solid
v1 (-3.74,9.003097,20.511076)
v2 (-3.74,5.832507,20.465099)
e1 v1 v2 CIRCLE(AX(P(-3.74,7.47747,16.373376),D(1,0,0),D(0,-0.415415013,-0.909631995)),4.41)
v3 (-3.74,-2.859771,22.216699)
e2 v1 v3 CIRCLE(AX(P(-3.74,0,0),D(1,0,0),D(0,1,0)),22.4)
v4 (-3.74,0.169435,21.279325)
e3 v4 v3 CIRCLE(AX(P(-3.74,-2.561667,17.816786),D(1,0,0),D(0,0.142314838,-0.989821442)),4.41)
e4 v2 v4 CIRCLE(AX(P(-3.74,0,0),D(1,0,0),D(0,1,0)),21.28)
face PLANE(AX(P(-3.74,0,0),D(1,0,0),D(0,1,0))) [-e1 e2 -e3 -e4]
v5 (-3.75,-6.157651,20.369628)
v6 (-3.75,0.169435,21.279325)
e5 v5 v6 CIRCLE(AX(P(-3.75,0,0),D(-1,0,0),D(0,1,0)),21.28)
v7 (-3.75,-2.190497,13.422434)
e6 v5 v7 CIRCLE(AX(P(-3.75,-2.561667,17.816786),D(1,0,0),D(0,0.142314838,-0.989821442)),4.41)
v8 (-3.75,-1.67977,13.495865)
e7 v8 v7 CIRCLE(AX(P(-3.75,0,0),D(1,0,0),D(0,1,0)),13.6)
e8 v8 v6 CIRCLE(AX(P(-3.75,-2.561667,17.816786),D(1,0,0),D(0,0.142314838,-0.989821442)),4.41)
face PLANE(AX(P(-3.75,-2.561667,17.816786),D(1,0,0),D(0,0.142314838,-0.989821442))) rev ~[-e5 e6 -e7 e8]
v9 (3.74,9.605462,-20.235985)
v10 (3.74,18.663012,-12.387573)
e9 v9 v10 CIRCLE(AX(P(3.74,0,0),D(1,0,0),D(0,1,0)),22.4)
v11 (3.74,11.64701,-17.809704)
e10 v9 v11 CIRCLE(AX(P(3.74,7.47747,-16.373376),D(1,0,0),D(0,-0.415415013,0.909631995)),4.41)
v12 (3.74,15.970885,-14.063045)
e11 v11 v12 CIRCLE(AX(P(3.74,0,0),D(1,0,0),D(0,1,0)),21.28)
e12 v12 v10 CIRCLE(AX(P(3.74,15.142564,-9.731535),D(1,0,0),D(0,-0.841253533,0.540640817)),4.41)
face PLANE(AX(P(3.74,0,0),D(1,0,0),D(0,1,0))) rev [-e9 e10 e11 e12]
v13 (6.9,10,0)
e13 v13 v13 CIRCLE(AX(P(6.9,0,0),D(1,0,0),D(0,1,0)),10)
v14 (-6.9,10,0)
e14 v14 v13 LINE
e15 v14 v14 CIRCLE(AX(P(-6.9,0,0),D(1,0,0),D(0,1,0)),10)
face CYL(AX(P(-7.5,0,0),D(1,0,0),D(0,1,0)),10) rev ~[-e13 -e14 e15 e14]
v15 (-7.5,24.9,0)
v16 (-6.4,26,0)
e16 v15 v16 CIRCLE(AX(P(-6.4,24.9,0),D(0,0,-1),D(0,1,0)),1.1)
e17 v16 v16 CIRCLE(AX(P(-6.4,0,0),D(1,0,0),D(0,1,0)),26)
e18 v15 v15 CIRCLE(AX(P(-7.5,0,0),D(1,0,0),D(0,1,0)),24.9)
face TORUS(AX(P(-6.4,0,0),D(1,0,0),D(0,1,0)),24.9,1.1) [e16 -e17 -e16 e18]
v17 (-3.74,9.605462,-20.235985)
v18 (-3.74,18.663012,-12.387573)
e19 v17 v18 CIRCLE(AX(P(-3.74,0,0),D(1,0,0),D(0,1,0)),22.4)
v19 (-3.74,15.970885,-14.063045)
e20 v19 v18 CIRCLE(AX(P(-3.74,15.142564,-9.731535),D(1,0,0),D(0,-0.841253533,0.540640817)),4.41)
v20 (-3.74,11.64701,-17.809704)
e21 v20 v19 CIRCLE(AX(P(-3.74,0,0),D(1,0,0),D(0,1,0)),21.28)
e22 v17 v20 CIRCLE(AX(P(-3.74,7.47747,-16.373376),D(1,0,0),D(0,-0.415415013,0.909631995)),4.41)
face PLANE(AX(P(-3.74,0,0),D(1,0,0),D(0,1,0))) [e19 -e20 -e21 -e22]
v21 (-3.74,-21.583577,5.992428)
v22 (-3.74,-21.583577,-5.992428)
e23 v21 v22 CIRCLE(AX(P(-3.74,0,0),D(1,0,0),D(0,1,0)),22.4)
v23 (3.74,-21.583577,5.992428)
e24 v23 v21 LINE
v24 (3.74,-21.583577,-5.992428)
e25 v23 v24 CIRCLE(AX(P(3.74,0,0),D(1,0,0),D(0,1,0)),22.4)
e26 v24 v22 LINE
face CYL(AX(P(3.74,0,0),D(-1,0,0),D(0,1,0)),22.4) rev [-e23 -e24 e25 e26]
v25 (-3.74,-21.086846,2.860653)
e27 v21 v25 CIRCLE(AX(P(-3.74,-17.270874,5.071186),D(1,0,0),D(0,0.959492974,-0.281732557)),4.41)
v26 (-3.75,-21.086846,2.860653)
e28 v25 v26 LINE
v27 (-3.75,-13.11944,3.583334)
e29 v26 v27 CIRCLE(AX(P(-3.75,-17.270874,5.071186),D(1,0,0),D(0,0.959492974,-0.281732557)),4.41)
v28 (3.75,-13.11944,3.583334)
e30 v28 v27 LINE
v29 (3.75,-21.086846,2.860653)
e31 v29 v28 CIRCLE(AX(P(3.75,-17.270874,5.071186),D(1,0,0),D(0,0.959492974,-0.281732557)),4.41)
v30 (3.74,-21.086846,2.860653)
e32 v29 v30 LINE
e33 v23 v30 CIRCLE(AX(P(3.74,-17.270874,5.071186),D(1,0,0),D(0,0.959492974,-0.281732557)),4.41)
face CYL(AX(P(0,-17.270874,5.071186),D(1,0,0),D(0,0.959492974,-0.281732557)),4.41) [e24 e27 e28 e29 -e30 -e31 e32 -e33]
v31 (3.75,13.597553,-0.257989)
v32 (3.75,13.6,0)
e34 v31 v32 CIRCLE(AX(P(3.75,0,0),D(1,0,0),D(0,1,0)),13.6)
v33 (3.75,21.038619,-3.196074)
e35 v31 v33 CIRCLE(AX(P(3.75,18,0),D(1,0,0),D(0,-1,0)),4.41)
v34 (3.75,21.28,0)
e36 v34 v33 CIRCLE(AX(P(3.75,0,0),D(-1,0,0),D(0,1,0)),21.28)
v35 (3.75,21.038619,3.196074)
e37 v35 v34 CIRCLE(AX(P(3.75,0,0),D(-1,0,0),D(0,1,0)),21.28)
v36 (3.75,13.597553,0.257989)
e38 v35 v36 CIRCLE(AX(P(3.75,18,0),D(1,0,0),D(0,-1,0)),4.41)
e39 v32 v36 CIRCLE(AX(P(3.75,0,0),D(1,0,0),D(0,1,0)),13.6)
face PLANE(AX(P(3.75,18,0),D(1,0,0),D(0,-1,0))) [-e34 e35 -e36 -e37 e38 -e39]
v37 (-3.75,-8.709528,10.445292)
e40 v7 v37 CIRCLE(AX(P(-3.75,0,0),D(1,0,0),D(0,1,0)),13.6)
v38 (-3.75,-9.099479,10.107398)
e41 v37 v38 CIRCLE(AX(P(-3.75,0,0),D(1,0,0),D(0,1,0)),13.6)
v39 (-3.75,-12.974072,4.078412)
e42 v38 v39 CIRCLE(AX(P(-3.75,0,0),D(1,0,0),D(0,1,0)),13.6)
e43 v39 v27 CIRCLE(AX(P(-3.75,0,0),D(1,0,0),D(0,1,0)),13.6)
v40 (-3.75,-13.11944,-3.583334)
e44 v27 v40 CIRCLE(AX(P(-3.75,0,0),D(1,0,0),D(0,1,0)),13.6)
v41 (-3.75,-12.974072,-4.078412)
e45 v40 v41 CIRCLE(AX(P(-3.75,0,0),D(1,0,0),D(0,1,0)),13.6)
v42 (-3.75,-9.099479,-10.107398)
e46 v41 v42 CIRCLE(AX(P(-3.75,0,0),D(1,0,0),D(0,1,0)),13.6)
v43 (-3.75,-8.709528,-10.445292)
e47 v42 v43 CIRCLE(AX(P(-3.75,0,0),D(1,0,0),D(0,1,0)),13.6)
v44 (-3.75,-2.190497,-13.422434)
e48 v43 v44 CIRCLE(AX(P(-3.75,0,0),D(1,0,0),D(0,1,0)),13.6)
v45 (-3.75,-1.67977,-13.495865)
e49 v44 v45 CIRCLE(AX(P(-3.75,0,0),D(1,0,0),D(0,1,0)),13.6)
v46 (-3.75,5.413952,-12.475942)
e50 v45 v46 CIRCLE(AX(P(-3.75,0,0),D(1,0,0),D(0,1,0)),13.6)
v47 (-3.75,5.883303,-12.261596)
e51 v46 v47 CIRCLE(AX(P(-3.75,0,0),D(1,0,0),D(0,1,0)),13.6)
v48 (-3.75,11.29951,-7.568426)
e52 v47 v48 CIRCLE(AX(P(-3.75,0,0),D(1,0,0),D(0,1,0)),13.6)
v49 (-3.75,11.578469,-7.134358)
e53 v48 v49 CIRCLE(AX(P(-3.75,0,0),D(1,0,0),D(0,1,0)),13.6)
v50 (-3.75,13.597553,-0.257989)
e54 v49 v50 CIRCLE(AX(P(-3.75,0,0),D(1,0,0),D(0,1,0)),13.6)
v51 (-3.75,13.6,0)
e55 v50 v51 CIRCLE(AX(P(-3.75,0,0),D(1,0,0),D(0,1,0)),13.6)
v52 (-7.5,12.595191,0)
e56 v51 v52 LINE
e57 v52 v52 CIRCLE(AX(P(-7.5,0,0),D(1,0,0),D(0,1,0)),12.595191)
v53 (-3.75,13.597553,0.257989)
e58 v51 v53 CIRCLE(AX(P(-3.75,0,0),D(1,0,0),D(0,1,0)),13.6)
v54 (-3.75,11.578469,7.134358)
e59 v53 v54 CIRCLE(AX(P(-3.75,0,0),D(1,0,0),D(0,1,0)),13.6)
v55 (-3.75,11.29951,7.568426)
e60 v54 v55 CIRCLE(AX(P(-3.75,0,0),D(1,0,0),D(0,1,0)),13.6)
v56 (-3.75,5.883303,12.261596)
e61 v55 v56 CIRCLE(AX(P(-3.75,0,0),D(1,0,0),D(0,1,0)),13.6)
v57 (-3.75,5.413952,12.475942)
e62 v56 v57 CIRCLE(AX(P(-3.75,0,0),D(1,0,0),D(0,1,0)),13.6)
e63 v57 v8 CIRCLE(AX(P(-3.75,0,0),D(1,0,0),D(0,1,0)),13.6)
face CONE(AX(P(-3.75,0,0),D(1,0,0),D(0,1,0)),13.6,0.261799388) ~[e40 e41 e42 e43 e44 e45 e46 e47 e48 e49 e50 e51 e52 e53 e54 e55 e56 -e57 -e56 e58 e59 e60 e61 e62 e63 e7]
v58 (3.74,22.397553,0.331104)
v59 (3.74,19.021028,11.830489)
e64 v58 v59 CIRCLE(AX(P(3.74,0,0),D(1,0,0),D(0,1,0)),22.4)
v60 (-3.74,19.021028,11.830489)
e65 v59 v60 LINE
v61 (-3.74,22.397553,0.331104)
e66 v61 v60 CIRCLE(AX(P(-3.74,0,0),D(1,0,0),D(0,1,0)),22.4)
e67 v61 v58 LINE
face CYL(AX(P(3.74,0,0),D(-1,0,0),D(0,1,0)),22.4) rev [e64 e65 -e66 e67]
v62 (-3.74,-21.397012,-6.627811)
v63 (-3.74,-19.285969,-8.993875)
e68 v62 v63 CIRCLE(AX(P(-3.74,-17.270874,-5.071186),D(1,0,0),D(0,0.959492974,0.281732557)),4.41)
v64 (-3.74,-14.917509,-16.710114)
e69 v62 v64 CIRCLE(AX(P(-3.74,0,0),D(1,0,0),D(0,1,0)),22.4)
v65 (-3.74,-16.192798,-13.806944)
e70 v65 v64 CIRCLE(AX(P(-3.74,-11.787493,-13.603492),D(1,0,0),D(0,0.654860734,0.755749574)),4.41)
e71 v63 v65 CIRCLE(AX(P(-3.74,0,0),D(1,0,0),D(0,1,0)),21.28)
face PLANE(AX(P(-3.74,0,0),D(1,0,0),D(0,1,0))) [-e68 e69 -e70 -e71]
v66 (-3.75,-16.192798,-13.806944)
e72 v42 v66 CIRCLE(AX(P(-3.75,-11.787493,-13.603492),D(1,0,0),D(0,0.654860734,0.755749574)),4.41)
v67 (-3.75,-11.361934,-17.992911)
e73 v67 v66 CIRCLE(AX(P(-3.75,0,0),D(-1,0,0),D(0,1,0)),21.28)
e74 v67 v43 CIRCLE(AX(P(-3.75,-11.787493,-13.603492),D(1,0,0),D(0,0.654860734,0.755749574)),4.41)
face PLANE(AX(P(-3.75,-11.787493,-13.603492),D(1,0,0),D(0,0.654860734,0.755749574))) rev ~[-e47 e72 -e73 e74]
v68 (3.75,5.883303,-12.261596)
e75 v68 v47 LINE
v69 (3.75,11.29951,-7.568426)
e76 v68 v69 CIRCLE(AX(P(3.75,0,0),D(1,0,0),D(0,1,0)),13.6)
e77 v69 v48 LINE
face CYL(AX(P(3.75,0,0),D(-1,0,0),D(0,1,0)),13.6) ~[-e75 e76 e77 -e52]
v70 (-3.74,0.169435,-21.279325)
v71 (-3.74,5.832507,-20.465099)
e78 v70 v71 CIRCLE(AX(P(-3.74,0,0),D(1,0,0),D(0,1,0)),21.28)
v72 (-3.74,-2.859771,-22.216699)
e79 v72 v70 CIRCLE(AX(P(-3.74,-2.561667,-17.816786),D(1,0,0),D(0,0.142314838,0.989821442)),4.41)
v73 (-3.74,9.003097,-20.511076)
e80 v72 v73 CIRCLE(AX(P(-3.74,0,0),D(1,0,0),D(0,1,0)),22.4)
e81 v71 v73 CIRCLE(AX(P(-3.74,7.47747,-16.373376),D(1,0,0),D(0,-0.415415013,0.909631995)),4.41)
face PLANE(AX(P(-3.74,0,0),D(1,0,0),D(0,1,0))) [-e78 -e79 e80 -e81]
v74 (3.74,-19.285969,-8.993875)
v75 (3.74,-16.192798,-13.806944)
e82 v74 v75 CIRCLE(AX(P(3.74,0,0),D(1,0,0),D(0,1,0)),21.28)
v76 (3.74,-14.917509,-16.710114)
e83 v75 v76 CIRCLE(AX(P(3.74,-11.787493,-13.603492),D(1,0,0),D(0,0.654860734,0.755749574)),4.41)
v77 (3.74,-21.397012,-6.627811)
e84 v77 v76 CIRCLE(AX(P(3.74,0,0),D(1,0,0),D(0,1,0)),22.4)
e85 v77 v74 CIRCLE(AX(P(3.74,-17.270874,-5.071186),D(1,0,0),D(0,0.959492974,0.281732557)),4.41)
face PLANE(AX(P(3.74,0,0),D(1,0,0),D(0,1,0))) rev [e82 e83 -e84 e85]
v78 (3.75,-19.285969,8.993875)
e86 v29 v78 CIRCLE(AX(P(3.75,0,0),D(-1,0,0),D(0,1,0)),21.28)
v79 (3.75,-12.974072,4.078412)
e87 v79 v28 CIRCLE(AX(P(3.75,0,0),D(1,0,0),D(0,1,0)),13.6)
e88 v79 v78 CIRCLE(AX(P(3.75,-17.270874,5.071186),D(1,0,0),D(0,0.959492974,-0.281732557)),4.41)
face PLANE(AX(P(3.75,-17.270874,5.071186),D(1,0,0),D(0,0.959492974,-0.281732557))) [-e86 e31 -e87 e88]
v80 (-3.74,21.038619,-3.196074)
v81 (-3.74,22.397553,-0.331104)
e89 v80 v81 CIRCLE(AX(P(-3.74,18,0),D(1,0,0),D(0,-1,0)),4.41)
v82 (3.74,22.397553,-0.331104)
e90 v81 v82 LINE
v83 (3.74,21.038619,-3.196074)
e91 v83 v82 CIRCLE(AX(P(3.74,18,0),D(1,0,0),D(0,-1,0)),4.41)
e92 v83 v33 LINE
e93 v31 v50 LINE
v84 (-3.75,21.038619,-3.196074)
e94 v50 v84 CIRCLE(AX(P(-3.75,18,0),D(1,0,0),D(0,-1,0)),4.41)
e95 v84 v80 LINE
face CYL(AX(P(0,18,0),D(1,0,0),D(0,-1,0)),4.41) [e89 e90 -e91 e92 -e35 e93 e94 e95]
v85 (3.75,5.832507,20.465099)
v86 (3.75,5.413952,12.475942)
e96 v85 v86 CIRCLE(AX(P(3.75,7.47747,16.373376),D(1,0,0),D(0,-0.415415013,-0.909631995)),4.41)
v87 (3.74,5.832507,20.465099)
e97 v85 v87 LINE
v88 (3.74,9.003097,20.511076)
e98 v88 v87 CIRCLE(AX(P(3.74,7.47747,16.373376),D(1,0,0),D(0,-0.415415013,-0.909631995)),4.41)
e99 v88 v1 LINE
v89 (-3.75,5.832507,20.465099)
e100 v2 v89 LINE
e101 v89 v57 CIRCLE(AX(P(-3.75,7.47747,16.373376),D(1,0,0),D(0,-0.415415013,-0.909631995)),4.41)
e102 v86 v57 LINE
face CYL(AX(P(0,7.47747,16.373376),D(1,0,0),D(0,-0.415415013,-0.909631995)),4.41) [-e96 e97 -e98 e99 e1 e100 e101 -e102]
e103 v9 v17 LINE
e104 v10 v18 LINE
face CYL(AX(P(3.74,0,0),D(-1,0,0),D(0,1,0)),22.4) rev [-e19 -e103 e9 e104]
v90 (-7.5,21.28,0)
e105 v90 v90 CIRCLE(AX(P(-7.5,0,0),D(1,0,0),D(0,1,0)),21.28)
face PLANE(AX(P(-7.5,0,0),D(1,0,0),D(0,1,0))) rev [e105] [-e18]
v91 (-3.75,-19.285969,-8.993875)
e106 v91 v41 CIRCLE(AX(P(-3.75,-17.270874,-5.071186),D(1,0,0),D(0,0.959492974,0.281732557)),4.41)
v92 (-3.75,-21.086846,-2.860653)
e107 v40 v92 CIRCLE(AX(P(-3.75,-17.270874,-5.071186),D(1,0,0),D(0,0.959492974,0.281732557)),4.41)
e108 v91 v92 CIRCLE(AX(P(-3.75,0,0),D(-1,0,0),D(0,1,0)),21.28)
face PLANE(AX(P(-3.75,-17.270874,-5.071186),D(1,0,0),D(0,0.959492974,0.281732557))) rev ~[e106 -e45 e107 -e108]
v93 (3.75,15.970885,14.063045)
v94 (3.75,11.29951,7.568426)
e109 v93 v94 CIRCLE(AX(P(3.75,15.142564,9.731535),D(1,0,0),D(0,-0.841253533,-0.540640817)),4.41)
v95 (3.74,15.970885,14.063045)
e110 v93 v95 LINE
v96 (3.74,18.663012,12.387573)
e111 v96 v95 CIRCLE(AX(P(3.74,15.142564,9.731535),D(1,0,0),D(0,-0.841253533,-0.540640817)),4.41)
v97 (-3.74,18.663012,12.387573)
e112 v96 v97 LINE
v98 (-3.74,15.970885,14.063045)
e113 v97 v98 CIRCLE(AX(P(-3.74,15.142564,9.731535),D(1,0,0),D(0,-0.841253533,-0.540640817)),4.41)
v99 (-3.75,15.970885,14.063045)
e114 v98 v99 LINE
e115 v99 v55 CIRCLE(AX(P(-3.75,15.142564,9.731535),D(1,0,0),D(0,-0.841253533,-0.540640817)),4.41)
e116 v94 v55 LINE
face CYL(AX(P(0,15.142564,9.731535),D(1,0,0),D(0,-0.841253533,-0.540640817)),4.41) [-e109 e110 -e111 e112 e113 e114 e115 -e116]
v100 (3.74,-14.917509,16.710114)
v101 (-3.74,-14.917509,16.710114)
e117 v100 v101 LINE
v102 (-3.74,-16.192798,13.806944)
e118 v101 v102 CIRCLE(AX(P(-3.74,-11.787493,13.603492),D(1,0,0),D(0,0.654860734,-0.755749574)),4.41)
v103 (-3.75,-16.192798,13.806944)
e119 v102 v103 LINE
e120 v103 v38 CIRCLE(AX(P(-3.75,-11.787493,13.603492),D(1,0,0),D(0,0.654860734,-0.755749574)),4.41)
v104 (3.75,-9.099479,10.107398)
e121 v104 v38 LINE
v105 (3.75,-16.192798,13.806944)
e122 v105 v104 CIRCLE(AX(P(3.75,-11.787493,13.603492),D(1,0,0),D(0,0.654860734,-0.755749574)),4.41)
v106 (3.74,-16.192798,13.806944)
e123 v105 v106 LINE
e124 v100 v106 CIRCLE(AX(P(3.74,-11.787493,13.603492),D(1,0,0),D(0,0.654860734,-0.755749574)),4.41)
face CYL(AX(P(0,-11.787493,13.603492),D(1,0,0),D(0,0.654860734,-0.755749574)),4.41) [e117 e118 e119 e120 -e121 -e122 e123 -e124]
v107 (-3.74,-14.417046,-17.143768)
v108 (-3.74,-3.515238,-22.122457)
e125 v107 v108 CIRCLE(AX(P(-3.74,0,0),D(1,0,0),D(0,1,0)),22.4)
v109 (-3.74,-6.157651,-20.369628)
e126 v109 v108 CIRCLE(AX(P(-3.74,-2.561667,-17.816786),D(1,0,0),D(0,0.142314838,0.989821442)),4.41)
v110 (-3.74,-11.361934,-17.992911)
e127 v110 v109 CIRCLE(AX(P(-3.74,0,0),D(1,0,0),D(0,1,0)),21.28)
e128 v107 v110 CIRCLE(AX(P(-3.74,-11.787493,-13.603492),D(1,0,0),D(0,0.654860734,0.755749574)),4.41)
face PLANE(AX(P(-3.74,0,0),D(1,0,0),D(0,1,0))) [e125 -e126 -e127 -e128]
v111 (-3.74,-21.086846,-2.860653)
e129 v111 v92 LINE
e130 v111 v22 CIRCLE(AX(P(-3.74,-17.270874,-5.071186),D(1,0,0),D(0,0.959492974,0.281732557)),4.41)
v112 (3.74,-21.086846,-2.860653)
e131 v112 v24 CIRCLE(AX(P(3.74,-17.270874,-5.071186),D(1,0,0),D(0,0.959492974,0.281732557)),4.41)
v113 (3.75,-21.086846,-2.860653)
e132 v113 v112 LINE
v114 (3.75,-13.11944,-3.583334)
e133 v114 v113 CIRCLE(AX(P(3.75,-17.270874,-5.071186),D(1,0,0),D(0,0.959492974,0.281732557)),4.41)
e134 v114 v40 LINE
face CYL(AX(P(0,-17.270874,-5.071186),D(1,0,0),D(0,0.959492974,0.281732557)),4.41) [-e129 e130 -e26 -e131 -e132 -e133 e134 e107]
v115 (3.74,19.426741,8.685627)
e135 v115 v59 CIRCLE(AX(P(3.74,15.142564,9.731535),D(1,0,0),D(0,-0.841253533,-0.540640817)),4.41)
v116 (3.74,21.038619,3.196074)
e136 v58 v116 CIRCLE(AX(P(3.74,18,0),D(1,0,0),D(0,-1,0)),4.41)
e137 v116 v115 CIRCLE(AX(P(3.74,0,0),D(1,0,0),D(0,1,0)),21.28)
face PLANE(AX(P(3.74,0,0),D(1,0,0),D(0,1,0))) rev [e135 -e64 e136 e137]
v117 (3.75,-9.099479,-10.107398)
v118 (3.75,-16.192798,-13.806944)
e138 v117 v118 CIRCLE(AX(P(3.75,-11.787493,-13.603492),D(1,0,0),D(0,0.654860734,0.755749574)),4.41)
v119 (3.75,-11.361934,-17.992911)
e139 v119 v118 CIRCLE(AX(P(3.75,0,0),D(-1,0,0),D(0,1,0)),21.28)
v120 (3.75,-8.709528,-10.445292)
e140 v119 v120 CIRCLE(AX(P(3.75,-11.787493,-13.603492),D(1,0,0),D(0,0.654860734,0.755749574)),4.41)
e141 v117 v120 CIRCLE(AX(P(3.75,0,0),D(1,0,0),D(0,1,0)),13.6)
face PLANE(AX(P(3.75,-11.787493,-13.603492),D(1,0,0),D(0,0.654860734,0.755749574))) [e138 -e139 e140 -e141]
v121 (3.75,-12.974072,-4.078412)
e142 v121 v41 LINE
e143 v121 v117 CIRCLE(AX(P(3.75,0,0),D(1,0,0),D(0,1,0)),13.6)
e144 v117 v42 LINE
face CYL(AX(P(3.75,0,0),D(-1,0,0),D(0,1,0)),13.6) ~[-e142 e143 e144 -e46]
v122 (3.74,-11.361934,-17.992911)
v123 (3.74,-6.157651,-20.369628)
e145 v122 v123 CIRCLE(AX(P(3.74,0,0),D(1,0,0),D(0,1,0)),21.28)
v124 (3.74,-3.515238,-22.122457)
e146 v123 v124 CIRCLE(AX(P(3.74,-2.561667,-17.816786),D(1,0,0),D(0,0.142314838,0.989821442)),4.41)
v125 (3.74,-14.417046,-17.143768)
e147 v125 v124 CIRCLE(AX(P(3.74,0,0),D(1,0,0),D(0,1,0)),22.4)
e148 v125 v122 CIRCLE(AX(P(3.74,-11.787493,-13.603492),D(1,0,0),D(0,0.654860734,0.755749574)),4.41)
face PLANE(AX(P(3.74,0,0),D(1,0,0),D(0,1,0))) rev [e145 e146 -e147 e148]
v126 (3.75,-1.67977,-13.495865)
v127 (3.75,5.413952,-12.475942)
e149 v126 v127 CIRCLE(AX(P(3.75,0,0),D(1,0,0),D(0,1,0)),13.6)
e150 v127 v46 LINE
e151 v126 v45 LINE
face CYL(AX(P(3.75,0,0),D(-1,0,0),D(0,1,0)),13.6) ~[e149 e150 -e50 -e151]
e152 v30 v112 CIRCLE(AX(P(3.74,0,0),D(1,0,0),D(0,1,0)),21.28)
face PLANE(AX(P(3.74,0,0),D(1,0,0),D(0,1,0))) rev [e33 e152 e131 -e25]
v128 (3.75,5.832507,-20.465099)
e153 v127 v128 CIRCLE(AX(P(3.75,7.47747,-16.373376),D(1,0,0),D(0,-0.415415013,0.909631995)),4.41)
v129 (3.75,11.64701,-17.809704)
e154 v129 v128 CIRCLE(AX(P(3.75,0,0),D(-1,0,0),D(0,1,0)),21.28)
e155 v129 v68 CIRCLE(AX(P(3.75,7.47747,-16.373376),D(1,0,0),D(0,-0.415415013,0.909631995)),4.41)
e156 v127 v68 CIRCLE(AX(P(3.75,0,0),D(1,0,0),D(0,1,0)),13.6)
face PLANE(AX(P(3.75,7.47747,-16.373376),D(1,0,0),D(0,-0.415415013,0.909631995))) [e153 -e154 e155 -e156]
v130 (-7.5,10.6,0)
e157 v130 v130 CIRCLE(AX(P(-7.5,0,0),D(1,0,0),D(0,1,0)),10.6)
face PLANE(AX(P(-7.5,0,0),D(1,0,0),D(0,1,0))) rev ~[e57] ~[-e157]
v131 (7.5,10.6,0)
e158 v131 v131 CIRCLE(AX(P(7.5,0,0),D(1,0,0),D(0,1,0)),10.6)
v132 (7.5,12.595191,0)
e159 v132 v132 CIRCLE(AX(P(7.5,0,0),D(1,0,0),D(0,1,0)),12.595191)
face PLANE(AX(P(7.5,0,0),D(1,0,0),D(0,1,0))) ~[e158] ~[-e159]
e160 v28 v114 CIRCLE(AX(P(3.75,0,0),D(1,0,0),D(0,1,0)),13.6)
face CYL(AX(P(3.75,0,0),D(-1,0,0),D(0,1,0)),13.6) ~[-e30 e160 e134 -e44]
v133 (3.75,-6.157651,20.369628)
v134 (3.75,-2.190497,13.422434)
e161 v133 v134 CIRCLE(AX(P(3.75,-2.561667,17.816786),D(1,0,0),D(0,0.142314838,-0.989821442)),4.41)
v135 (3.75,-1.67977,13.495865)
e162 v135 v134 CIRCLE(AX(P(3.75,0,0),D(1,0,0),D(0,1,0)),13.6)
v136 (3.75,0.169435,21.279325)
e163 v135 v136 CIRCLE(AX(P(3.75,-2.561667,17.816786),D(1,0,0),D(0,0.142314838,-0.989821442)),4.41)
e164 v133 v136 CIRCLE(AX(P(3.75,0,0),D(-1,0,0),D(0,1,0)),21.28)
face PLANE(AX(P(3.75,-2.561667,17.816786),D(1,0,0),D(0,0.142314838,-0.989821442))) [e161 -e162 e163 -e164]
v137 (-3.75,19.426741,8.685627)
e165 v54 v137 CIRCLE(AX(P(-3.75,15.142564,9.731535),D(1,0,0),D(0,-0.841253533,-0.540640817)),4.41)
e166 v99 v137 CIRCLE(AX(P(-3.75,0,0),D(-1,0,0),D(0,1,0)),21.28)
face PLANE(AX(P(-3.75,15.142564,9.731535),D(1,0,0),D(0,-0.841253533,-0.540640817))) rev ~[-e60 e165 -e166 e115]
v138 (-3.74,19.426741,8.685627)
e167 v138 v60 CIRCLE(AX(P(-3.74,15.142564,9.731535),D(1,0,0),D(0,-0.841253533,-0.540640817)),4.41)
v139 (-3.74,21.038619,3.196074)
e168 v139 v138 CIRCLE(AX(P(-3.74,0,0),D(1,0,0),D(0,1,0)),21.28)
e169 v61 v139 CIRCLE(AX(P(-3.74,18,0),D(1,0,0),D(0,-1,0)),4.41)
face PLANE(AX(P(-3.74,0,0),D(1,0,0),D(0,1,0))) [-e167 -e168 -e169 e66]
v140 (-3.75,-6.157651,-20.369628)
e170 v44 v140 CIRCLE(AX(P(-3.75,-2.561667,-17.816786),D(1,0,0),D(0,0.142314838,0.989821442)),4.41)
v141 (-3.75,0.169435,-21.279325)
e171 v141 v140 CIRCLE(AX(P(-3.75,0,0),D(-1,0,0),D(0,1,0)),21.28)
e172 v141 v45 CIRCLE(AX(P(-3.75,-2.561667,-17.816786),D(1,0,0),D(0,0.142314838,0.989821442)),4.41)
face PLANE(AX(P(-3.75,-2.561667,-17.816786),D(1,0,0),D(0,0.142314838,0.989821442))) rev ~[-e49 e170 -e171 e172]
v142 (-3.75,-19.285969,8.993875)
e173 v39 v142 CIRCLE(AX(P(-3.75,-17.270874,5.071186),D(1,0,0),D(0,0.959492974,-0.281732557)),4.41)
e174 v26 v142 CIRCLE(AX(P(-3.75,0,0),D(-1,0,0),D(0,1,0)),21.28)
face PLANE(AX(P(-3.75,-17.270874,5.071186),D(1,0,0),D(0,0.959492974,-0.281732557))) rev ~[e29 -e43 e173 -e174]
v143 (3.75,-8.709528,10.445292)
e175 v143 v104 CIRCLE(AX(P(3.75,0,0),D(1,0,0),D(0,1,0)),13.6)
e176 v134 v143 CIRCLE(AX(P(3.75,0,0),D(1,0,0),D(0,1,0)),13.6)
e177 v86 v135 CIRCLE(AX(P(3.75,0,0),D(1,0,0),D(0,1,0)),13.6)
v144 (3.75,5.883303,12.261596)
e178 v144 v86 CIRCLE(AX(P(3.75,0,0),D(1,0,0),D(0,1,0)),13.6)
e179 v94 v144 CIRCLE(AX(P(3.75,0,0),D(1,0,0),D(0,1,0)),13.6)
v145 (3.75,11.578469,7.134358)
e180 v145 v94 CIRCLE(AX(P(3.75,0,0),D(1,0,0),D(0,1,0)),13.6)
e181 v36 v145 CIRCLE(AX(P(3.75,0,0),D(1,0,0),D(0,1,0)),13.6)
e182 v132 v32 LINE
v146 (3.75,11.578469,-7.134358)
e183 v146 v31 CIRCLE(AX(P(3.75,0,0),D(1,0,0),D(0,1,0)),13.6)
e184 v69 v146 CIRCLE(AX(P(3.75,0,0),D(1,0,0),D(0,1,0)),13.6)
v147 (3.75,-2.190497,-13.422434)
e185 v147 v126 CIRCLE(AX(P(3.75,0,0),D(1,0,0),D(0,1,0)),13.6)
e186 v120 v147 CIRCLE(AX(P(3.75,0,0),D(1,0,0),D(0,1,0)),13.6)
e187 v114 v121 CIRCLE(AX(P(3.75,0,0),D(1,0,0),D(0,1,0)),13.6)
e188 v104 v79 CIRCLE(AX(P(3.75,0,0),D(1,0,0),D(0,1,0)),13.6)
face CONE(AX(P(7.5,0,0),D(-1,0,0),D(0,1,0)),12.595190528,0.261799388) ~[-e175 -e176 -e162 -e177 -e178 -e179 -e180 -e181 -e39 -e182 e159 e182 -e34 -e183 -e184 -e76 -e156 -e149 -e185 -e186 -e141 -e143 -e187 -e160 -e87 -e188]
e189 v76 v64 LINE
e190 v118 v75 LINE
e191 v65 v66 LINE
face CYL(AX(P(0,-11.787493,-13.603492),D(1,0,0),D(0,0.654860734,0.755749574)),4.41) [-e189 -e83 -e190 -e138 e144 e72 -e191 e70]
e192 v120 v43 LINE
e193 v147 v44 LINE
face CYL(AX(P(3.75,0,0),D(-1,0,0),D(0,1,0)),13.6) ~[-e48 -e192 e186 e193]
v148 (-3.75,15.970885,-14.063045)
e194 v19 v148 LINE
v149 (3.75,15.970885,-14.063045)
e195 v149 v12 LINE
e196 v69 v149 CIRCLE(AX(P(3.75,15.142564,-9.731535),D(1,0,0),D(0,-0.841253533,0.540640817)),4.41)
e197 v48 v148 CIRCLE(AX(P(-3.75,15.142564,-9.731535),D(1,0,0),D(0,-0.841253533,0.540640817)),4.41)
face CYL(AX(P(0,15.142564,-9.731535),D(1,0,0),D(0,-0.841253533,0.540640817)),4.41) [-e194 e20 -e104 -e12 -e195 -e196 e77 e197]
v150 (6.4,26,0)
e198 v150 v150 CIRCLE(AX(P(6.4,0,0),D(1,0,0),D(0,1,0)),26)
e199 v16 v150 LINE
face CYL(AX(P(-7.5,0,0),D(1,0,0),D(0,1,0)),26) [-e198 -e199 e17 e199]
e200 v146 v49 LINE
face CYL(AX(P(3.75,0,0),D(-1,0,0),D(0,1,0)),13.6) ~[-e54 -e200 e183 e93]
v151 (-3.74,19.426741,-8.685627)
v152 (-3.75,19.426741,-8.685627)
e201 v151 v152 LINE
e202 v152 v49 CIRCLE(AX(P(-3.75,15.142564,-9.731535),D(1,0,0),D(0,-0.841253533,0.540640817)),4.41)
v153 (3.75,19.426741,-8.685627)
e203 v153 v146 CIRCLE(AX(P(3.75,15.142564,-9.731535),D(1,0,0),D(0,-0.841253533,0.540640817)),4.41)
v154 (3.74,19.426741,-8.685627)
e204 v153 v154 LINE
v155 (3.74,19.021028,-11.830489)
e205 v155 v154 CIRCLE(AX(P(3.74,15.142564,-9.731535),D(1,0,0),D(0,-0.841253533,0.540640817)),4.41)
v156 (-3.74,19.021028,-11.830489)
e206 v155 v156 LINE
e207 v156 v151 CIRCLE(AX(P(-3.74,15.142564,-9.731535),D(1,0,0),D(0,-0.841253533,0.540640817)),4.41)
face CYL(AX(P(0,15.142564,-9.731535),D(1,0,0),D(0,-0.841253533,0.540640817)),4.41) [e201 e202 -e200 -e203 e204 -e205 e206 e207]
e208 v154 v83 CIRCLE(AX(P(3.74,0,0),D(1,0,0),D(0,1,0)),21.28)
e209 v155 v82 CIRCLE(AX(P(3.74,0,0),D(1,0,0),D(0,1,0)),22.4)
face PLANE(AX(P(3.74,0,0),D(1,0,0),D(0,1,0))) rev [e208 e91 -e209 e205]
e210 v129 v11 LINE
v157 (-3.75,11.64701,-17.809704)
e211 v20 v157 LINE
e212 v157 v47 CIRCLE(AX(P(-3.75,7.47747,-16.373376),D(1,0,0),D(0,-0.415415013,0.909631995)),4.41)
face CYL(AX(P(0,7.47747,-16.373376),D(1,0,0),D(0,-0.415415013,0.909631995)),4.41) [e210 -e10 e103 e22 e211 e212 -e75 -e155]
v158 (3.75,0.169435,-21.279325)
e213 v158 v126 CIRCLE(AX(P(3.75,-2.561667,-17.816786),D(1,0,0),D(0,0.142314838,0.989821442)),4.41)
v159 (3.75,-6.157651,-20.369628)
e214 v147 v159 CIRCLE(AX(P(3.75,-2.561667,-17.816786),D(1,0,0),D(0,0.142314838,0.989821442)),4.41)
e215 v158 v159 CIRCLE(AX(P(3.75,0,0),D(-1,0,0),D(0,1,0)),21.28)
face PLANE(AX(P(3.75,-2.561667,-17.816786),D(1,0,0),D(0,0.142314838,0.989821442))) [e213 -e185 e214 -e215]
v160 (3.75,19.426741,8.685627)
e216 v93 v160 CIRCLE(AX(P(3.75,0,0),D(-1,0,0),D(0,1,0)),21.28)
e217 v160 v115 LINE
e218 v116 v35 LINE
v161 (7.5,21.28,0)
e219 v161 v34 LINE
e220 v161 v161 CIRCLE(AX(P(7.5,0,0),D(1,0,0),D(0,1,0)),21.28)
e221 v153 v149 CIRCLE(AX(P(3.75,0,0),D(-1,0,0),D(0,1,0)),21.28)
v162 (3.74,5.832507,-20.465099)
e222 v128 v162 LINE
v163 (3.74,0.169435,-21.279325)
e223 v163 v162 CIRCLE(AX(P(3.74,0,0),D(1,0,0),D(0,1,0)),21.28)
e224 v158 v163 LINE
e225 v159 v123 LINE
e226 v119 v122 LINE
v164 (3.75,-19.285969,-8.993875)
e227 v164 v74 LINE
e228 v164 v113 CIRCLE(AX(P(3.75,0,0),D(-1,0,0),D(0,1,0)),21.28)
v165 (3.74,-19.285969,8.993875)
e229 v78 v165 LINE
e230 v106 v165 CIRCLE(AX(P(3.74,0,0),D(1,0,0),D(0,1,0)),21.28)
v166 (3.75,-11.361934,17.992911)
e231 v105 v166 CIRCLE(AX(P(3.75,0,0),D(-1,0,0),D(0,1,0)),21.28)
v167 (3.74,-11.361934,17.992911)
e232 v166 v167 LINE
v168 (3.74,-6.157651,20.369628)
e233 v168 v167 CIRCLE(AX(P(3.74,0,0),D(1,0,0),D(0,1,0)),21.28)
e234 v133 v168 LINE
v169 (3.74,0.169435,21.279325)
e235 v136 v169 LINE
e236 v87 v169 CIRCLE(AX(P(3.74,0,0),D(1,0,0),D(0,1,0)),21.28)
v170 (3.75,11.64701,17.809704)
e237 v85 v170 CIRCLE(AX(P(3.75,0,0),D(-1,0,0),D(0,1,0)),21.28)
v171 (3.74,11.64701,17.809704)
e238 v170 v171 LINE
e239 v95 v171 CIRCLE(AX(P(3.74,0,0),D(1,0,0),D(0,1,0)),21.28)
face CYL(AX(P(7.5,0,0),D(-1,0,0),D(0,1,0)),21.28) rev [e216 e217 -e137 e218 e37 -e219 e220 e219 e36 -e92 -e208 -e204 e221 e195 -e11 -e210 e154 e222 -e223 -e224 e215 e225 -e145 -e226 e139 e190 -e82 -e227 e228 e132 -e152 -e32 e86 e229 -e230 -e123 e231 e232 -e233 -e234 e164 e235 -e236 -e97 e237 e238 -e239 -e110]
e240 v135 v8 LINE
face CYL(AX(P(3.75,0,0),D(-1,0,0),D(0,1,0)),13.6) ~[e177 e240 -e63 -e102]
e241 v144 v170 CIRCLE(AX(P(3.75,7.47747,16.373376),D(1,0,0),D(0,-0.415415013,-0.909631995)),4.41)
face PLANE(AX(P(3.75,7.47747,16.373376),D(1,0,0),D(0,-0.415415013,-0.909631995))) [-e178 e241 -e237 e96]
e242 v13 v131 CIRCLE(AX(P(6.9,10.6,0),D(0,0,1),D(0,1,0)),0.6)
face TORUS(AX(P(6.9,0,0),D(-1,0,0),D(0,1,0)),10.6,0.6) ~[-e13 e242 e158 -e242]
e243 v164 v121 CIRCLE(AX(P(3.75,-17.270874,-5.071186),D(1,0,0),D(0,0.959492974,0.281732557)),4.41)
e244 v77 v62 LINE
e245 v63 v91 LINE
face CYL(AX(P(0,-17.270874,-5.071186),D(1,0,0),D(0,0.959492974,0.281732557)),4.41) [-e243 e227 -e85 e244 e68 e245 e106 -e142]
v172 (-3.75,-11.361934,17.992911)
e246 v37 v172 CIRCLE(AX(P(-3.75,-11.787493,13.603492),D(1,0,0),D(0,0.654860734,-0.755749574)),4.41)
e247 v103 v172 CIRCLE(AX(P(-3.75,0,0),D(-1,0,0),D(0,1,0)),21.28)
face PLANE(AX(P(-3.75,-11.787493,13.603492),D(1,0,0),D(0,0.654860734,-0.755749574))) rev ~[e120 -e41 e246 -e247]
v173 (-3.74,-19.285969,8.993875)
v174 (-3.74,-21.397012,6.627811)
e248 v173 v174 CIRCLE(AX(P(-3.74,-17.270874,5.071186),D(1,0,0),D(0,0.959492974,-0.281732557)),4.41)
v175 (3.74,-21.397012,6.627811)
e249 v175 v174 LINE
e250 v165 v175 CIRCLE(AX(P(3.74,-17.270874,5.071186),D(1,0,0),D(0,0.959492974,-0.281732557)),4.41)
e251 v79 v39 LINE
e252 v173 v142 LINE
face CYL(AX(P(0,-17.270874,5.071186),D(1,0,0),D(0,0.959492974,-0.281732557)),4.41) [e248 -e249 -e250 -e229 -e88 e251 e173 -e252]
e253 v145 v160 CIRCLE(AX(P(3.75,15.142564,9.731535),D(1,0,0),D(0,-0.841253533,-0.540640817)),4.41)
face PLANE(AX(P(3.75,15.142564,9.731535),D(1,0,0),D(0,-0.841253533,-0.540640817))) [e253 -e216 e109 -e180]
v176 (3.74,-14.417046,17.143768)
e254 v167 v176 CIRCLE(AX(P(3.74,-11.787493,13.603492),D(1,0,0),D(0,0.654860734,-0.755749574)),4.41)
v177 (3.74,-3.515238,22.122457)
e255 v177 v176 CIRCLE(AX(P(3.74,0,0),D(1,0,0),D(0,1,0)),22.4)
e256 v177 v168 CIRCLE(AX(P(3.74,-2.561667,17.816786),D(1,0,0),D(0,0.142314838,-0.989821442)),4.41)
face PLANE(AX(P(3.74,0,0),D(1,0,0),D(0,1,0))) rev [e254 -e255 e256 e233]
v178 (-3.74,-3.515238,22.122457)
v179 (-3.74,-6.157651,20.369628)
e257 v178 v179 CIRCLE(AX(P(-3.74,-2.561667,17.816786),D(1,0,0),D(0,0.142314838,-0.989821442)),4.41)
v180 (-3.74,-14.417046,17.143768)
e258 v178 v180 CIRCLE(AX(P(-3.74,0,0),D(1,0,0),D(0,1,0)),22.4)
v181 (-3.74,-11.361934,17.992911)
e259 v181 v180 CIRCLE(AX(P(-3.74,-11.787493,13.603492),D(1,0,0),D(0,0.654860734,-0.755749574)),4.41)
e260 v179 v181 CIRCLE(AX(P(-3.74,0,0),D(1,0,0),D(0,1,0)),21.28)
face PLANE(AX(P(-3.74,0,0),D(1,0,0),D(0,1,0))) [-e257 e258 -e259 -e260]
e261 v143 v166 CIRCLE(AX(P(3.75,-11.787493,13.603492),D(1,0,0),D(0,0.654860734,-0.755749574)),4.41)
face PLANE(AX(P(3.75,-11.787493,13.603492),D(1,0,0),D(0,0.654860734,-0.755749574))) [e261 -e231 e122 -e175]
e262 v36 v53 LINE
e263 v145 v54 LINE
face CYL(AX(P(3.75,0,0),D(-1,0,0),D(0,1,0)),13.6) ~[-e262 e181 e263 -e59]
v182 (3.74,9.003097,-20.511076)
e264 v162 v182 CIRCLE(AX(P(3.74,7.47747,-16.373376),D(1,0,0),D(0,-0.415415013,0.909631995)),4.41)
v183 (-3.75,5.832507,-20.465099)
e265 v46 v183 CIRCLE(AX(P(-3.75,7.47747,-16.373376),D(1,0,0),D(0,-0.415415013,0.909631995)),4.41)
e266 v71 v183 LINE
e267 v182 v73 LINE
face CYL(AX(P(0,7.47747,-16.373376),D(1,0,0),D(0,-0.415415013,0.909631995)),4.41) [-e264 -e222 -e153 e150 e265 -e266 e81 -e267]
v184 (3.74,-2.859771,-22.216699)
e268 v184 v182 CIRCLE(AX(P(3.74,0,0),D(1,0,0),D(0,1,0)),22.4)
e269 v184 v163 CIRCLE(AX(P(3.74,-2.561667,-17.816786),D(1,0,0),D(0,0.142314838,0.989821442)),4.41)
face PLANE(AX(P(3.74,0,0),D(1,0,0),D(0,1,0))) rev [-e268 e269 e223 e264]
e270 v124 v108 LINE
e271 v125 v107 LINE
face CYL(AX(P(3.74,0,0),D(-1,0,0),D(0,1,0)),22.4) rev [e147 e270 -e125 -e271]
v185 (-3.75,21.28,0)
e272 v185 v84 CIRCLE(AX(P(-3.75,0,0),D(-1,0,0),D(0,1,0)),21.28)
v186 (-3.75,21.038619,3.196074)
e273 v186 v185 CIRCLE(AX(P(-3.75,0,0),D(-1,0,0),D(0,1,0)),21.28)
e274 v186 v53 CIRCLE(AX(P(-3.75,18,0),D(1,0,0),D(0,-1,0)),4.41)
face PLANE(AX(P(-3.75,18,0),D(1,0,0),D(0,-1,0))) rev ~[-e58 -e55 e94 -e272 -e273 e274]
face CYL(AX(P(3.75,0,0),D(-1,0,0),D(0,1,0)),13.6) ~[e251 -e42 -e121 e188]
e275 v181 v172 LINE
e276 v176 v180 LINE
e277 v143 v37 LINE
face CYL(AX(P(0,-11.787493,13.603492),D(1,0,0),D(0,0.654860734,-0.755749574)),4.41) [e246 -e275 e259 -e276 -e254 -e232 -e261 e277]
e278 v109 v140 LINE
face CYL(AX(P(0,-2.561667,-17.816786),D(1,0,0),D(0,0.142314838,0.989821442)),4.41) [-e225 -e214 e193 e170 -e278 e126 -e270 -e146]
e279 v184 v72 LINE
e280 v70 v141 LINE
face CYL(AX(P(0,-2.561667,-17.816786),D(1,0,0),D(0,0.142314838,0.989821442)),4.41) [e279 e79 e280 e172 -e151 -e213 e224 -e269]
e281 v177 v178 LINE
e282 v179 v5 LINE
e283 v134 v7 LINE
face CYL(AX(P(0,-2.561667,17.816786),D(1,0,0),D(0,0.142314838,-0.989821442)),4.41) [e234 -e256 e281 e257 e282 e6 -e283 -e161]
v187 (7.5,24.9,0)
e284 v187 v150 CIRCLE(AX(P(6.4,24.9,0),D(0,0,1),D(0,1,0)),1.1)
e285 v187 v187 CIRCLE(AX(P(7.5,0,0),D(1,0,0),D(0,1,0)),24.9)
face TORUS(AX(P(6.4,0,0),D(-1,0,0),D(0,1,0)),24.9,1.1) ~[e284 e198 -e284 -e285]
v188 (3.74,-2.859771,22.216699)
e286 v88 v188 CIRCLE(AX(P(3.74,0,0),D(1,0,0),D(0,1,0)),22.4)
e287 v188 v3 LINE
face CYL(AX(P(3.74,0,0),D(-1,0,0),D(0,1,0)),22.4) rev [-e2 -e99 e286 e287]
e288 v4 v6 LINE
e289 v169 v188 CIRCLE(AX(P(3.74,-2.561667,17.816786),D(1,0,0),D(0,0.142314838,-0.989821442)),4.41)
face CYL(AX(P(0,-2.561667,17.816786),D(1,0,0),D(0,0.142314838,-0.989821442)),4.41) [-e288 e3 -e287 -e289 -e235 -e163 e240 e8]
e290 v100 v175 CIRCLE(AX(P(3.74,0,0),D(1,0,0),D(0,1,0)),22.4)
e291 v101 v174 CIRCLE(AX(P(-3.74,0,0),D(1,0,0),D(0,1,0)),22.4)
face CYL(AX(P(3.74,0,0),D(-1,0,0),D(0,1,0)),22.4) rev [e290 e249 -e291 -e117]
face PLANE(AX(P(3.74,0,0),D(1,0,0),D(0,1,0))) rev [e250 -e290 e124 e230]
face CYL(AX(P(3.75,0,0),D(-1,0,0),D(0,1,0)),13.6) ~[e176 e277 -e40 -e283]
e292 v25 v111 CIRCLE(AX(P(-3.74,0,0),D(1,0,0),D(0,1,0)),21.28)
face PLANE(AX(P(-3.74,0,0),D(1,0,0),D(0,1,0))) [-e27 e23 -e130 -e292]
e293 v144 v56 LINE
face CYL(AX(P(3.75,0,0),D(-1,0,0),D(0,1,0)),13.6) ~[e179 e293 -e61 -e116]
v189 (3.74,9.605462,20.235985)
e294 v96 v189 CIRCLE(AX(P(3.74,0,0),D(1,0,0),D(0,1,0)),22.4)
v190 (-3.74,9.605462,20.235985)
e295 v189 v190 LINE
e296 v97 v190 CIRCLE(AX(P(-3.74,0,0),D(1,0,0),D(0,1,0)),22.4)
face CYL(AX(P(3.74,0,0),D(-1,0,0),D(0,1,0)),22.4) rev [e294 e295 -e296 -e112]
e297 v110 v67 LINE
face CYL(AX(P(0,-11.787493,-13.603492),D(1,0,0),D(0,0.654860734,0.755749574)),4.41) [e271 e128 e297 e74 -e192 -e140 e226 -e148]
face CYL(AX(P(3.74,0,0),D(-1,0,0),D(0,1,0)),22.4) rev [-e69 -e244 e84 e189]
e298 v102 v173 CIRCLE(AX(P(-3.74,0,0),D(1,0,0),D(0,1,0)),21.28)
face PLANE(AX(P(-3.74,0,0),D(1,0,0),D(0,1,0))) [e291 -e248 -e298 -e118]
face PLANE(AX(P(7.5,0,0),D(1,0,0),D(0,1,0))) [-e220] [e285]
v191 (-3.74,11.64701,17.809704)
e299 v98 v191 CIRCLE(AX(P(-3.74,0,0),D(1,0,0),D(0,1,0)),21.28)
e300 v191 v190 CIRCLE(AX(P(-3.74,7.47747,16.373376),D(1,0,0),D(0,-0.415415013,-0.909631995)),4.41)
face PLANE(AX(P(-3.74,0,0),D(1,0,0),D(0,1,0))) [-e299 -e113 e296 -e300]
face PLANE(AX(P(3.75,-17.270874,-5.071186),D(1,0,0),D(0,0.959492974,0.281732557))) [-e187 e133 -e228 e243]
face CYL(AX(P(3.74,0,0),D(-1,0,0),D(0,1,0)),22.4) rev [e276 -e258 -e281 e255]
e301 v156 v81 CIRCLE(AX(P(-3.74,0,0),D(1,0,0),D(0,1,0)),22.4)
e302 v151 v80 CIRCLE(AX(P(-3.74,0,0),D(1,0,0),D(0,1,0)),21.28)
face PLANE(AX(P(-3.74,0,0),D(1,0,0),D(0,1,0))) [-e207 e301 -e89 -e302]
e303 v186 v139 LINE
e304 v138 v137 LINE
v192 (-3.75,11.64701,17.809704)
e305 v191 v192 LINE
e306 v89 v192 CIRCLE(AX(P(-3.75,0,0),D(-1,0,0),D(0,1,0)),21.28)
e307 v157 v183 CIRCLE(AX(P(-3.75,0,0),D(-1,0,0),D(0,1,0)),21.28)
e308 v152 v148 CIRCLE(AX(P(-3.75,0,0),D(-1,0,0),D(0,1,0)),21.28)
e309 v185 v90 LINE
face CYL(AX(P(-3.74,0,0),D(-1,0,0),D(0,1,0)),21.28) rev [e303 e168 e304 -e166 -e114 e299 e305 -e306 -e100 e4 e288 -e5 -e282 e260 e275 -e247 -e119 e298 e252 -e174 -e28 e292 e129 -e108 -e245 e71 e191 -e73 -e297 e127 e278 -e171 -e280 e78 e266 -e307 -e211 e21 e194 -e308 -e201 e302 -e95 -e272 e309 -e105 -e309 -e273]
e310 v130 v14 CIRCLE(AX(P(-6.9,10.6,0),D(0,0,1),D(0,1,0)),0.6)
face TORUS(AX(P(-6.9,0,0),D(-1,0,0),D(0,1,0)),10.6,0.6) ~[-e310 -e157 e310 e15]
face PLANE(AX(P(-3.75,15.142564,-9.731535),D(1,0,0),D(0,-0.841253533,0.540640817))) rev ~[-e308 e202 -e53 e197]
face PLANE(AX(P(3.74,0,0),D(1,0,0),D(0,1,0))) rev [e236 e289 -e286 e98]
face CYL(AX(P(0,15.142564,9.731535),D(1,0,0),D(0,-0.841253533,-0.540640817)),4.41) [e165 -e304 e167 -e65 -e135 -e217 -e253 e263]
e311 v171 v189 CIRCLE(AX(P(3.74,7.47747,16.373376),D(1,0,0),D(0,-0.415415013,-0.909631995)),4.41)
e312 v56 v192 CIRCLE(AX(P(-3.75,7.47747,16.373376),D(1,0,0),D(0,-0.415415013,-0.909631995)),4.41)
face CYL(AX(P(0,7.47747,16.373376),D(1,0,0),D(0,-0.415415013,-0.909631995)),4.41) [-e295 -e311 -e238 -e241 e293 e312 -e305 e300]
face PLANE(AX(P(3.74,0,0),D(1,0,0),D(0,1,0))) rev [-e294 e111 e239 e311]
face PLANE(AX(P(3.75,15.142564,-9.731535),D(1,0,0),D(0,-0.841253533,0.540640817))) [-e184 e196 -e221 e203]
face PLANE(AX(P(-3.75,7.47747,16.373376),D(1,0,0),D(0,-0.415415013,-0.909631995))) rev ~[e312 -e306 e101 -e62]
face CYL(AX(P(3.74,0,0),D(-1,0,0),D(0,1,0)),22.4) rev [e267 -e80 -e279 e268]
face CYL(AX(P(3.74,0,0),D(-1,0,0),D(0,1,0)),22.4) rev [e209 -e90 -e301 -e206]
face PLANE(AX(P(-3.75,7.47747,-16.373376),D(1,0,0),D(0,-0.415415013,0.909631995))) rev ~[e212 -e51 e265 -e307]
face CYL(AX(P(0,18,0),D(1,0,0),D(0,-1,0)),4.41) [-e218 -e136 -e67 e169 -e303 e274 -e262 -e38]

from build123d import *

# Parameters (mm, degrees)
SKETCH2_W               = 7.5
SKETCH2_H               = 4.41
CIRCULAR_PATTERN1_COUNT = 11
FILLET1_R               = 1.1
FILLET2_R               = 0.6


with BuildPart() as part:
    # Sketch1 → Revolve1 (revolve)
    with BuildSketch(Plane.XY):
        Polygon((-7.5, 10), (7.5, 10), (7.5, 12.595190528), (3.75, 13.6), (-3.75, 13.6), (-7.5, 12.595190528), align=None)
    revolve(axis=Axis((-10.137871204, 0, 0), (1, 0, 0)))

    # Sketch2 → Revolve2 (revolve)
    with BuildSketch(Plane.XY):
        with Locations((0, 15.795)):
            Rectangle(SKETCH2_W, SKETCH2_H)
    revolve2 = revolve(axis=Axis((-7.422783257, 18, 0), (1, 0, 0)))

    # Sketch3 → Revolve3 (revolve)
    with BuildSketch(Plane.XY):
        Polygon((-7.5, 26), (7.5, 26), (7.5, 21.28), (3.74, 21.28), (3.74, 22.4), (-3.74, 22.4), (-3.74, 21.28), (-7.5, 21.28), align=None)
    revolve(axis=Axis((-9.082213196, 0, 0), (1, 0, 0)))

    # Circular-Pattern1: Revolve2 ×11 about axis
    circular_pattern1_axis = Axis((0, 0, 0), (1, 0, 0))
    for i in range(1, CIRCULAR_PATTERN1_COUNT):
        add(revolve2.rotate(circular_pattern1_axis, i * 360 / CIRCULAR_PATTERN1_COUNT))

    # Fillet1
    fillet1_edges = [part.edges().sort_by_distance(p)[0] for p in [
        (-7.5, -26, 0),
        (7.5, -26, 0),
    ]]
    fillet(fillet1_edges, radius=FILLET1_R)

    # Fillet2
    fillet2_edges = [part.edges().sort_by_distance(p)[0] for p in [
        (7.5, -10, 0),
        (-7.5, -10, 0),
    ]]
    fillet(fillet2_edges, radius=FILLET2_R)


solid = part.part
